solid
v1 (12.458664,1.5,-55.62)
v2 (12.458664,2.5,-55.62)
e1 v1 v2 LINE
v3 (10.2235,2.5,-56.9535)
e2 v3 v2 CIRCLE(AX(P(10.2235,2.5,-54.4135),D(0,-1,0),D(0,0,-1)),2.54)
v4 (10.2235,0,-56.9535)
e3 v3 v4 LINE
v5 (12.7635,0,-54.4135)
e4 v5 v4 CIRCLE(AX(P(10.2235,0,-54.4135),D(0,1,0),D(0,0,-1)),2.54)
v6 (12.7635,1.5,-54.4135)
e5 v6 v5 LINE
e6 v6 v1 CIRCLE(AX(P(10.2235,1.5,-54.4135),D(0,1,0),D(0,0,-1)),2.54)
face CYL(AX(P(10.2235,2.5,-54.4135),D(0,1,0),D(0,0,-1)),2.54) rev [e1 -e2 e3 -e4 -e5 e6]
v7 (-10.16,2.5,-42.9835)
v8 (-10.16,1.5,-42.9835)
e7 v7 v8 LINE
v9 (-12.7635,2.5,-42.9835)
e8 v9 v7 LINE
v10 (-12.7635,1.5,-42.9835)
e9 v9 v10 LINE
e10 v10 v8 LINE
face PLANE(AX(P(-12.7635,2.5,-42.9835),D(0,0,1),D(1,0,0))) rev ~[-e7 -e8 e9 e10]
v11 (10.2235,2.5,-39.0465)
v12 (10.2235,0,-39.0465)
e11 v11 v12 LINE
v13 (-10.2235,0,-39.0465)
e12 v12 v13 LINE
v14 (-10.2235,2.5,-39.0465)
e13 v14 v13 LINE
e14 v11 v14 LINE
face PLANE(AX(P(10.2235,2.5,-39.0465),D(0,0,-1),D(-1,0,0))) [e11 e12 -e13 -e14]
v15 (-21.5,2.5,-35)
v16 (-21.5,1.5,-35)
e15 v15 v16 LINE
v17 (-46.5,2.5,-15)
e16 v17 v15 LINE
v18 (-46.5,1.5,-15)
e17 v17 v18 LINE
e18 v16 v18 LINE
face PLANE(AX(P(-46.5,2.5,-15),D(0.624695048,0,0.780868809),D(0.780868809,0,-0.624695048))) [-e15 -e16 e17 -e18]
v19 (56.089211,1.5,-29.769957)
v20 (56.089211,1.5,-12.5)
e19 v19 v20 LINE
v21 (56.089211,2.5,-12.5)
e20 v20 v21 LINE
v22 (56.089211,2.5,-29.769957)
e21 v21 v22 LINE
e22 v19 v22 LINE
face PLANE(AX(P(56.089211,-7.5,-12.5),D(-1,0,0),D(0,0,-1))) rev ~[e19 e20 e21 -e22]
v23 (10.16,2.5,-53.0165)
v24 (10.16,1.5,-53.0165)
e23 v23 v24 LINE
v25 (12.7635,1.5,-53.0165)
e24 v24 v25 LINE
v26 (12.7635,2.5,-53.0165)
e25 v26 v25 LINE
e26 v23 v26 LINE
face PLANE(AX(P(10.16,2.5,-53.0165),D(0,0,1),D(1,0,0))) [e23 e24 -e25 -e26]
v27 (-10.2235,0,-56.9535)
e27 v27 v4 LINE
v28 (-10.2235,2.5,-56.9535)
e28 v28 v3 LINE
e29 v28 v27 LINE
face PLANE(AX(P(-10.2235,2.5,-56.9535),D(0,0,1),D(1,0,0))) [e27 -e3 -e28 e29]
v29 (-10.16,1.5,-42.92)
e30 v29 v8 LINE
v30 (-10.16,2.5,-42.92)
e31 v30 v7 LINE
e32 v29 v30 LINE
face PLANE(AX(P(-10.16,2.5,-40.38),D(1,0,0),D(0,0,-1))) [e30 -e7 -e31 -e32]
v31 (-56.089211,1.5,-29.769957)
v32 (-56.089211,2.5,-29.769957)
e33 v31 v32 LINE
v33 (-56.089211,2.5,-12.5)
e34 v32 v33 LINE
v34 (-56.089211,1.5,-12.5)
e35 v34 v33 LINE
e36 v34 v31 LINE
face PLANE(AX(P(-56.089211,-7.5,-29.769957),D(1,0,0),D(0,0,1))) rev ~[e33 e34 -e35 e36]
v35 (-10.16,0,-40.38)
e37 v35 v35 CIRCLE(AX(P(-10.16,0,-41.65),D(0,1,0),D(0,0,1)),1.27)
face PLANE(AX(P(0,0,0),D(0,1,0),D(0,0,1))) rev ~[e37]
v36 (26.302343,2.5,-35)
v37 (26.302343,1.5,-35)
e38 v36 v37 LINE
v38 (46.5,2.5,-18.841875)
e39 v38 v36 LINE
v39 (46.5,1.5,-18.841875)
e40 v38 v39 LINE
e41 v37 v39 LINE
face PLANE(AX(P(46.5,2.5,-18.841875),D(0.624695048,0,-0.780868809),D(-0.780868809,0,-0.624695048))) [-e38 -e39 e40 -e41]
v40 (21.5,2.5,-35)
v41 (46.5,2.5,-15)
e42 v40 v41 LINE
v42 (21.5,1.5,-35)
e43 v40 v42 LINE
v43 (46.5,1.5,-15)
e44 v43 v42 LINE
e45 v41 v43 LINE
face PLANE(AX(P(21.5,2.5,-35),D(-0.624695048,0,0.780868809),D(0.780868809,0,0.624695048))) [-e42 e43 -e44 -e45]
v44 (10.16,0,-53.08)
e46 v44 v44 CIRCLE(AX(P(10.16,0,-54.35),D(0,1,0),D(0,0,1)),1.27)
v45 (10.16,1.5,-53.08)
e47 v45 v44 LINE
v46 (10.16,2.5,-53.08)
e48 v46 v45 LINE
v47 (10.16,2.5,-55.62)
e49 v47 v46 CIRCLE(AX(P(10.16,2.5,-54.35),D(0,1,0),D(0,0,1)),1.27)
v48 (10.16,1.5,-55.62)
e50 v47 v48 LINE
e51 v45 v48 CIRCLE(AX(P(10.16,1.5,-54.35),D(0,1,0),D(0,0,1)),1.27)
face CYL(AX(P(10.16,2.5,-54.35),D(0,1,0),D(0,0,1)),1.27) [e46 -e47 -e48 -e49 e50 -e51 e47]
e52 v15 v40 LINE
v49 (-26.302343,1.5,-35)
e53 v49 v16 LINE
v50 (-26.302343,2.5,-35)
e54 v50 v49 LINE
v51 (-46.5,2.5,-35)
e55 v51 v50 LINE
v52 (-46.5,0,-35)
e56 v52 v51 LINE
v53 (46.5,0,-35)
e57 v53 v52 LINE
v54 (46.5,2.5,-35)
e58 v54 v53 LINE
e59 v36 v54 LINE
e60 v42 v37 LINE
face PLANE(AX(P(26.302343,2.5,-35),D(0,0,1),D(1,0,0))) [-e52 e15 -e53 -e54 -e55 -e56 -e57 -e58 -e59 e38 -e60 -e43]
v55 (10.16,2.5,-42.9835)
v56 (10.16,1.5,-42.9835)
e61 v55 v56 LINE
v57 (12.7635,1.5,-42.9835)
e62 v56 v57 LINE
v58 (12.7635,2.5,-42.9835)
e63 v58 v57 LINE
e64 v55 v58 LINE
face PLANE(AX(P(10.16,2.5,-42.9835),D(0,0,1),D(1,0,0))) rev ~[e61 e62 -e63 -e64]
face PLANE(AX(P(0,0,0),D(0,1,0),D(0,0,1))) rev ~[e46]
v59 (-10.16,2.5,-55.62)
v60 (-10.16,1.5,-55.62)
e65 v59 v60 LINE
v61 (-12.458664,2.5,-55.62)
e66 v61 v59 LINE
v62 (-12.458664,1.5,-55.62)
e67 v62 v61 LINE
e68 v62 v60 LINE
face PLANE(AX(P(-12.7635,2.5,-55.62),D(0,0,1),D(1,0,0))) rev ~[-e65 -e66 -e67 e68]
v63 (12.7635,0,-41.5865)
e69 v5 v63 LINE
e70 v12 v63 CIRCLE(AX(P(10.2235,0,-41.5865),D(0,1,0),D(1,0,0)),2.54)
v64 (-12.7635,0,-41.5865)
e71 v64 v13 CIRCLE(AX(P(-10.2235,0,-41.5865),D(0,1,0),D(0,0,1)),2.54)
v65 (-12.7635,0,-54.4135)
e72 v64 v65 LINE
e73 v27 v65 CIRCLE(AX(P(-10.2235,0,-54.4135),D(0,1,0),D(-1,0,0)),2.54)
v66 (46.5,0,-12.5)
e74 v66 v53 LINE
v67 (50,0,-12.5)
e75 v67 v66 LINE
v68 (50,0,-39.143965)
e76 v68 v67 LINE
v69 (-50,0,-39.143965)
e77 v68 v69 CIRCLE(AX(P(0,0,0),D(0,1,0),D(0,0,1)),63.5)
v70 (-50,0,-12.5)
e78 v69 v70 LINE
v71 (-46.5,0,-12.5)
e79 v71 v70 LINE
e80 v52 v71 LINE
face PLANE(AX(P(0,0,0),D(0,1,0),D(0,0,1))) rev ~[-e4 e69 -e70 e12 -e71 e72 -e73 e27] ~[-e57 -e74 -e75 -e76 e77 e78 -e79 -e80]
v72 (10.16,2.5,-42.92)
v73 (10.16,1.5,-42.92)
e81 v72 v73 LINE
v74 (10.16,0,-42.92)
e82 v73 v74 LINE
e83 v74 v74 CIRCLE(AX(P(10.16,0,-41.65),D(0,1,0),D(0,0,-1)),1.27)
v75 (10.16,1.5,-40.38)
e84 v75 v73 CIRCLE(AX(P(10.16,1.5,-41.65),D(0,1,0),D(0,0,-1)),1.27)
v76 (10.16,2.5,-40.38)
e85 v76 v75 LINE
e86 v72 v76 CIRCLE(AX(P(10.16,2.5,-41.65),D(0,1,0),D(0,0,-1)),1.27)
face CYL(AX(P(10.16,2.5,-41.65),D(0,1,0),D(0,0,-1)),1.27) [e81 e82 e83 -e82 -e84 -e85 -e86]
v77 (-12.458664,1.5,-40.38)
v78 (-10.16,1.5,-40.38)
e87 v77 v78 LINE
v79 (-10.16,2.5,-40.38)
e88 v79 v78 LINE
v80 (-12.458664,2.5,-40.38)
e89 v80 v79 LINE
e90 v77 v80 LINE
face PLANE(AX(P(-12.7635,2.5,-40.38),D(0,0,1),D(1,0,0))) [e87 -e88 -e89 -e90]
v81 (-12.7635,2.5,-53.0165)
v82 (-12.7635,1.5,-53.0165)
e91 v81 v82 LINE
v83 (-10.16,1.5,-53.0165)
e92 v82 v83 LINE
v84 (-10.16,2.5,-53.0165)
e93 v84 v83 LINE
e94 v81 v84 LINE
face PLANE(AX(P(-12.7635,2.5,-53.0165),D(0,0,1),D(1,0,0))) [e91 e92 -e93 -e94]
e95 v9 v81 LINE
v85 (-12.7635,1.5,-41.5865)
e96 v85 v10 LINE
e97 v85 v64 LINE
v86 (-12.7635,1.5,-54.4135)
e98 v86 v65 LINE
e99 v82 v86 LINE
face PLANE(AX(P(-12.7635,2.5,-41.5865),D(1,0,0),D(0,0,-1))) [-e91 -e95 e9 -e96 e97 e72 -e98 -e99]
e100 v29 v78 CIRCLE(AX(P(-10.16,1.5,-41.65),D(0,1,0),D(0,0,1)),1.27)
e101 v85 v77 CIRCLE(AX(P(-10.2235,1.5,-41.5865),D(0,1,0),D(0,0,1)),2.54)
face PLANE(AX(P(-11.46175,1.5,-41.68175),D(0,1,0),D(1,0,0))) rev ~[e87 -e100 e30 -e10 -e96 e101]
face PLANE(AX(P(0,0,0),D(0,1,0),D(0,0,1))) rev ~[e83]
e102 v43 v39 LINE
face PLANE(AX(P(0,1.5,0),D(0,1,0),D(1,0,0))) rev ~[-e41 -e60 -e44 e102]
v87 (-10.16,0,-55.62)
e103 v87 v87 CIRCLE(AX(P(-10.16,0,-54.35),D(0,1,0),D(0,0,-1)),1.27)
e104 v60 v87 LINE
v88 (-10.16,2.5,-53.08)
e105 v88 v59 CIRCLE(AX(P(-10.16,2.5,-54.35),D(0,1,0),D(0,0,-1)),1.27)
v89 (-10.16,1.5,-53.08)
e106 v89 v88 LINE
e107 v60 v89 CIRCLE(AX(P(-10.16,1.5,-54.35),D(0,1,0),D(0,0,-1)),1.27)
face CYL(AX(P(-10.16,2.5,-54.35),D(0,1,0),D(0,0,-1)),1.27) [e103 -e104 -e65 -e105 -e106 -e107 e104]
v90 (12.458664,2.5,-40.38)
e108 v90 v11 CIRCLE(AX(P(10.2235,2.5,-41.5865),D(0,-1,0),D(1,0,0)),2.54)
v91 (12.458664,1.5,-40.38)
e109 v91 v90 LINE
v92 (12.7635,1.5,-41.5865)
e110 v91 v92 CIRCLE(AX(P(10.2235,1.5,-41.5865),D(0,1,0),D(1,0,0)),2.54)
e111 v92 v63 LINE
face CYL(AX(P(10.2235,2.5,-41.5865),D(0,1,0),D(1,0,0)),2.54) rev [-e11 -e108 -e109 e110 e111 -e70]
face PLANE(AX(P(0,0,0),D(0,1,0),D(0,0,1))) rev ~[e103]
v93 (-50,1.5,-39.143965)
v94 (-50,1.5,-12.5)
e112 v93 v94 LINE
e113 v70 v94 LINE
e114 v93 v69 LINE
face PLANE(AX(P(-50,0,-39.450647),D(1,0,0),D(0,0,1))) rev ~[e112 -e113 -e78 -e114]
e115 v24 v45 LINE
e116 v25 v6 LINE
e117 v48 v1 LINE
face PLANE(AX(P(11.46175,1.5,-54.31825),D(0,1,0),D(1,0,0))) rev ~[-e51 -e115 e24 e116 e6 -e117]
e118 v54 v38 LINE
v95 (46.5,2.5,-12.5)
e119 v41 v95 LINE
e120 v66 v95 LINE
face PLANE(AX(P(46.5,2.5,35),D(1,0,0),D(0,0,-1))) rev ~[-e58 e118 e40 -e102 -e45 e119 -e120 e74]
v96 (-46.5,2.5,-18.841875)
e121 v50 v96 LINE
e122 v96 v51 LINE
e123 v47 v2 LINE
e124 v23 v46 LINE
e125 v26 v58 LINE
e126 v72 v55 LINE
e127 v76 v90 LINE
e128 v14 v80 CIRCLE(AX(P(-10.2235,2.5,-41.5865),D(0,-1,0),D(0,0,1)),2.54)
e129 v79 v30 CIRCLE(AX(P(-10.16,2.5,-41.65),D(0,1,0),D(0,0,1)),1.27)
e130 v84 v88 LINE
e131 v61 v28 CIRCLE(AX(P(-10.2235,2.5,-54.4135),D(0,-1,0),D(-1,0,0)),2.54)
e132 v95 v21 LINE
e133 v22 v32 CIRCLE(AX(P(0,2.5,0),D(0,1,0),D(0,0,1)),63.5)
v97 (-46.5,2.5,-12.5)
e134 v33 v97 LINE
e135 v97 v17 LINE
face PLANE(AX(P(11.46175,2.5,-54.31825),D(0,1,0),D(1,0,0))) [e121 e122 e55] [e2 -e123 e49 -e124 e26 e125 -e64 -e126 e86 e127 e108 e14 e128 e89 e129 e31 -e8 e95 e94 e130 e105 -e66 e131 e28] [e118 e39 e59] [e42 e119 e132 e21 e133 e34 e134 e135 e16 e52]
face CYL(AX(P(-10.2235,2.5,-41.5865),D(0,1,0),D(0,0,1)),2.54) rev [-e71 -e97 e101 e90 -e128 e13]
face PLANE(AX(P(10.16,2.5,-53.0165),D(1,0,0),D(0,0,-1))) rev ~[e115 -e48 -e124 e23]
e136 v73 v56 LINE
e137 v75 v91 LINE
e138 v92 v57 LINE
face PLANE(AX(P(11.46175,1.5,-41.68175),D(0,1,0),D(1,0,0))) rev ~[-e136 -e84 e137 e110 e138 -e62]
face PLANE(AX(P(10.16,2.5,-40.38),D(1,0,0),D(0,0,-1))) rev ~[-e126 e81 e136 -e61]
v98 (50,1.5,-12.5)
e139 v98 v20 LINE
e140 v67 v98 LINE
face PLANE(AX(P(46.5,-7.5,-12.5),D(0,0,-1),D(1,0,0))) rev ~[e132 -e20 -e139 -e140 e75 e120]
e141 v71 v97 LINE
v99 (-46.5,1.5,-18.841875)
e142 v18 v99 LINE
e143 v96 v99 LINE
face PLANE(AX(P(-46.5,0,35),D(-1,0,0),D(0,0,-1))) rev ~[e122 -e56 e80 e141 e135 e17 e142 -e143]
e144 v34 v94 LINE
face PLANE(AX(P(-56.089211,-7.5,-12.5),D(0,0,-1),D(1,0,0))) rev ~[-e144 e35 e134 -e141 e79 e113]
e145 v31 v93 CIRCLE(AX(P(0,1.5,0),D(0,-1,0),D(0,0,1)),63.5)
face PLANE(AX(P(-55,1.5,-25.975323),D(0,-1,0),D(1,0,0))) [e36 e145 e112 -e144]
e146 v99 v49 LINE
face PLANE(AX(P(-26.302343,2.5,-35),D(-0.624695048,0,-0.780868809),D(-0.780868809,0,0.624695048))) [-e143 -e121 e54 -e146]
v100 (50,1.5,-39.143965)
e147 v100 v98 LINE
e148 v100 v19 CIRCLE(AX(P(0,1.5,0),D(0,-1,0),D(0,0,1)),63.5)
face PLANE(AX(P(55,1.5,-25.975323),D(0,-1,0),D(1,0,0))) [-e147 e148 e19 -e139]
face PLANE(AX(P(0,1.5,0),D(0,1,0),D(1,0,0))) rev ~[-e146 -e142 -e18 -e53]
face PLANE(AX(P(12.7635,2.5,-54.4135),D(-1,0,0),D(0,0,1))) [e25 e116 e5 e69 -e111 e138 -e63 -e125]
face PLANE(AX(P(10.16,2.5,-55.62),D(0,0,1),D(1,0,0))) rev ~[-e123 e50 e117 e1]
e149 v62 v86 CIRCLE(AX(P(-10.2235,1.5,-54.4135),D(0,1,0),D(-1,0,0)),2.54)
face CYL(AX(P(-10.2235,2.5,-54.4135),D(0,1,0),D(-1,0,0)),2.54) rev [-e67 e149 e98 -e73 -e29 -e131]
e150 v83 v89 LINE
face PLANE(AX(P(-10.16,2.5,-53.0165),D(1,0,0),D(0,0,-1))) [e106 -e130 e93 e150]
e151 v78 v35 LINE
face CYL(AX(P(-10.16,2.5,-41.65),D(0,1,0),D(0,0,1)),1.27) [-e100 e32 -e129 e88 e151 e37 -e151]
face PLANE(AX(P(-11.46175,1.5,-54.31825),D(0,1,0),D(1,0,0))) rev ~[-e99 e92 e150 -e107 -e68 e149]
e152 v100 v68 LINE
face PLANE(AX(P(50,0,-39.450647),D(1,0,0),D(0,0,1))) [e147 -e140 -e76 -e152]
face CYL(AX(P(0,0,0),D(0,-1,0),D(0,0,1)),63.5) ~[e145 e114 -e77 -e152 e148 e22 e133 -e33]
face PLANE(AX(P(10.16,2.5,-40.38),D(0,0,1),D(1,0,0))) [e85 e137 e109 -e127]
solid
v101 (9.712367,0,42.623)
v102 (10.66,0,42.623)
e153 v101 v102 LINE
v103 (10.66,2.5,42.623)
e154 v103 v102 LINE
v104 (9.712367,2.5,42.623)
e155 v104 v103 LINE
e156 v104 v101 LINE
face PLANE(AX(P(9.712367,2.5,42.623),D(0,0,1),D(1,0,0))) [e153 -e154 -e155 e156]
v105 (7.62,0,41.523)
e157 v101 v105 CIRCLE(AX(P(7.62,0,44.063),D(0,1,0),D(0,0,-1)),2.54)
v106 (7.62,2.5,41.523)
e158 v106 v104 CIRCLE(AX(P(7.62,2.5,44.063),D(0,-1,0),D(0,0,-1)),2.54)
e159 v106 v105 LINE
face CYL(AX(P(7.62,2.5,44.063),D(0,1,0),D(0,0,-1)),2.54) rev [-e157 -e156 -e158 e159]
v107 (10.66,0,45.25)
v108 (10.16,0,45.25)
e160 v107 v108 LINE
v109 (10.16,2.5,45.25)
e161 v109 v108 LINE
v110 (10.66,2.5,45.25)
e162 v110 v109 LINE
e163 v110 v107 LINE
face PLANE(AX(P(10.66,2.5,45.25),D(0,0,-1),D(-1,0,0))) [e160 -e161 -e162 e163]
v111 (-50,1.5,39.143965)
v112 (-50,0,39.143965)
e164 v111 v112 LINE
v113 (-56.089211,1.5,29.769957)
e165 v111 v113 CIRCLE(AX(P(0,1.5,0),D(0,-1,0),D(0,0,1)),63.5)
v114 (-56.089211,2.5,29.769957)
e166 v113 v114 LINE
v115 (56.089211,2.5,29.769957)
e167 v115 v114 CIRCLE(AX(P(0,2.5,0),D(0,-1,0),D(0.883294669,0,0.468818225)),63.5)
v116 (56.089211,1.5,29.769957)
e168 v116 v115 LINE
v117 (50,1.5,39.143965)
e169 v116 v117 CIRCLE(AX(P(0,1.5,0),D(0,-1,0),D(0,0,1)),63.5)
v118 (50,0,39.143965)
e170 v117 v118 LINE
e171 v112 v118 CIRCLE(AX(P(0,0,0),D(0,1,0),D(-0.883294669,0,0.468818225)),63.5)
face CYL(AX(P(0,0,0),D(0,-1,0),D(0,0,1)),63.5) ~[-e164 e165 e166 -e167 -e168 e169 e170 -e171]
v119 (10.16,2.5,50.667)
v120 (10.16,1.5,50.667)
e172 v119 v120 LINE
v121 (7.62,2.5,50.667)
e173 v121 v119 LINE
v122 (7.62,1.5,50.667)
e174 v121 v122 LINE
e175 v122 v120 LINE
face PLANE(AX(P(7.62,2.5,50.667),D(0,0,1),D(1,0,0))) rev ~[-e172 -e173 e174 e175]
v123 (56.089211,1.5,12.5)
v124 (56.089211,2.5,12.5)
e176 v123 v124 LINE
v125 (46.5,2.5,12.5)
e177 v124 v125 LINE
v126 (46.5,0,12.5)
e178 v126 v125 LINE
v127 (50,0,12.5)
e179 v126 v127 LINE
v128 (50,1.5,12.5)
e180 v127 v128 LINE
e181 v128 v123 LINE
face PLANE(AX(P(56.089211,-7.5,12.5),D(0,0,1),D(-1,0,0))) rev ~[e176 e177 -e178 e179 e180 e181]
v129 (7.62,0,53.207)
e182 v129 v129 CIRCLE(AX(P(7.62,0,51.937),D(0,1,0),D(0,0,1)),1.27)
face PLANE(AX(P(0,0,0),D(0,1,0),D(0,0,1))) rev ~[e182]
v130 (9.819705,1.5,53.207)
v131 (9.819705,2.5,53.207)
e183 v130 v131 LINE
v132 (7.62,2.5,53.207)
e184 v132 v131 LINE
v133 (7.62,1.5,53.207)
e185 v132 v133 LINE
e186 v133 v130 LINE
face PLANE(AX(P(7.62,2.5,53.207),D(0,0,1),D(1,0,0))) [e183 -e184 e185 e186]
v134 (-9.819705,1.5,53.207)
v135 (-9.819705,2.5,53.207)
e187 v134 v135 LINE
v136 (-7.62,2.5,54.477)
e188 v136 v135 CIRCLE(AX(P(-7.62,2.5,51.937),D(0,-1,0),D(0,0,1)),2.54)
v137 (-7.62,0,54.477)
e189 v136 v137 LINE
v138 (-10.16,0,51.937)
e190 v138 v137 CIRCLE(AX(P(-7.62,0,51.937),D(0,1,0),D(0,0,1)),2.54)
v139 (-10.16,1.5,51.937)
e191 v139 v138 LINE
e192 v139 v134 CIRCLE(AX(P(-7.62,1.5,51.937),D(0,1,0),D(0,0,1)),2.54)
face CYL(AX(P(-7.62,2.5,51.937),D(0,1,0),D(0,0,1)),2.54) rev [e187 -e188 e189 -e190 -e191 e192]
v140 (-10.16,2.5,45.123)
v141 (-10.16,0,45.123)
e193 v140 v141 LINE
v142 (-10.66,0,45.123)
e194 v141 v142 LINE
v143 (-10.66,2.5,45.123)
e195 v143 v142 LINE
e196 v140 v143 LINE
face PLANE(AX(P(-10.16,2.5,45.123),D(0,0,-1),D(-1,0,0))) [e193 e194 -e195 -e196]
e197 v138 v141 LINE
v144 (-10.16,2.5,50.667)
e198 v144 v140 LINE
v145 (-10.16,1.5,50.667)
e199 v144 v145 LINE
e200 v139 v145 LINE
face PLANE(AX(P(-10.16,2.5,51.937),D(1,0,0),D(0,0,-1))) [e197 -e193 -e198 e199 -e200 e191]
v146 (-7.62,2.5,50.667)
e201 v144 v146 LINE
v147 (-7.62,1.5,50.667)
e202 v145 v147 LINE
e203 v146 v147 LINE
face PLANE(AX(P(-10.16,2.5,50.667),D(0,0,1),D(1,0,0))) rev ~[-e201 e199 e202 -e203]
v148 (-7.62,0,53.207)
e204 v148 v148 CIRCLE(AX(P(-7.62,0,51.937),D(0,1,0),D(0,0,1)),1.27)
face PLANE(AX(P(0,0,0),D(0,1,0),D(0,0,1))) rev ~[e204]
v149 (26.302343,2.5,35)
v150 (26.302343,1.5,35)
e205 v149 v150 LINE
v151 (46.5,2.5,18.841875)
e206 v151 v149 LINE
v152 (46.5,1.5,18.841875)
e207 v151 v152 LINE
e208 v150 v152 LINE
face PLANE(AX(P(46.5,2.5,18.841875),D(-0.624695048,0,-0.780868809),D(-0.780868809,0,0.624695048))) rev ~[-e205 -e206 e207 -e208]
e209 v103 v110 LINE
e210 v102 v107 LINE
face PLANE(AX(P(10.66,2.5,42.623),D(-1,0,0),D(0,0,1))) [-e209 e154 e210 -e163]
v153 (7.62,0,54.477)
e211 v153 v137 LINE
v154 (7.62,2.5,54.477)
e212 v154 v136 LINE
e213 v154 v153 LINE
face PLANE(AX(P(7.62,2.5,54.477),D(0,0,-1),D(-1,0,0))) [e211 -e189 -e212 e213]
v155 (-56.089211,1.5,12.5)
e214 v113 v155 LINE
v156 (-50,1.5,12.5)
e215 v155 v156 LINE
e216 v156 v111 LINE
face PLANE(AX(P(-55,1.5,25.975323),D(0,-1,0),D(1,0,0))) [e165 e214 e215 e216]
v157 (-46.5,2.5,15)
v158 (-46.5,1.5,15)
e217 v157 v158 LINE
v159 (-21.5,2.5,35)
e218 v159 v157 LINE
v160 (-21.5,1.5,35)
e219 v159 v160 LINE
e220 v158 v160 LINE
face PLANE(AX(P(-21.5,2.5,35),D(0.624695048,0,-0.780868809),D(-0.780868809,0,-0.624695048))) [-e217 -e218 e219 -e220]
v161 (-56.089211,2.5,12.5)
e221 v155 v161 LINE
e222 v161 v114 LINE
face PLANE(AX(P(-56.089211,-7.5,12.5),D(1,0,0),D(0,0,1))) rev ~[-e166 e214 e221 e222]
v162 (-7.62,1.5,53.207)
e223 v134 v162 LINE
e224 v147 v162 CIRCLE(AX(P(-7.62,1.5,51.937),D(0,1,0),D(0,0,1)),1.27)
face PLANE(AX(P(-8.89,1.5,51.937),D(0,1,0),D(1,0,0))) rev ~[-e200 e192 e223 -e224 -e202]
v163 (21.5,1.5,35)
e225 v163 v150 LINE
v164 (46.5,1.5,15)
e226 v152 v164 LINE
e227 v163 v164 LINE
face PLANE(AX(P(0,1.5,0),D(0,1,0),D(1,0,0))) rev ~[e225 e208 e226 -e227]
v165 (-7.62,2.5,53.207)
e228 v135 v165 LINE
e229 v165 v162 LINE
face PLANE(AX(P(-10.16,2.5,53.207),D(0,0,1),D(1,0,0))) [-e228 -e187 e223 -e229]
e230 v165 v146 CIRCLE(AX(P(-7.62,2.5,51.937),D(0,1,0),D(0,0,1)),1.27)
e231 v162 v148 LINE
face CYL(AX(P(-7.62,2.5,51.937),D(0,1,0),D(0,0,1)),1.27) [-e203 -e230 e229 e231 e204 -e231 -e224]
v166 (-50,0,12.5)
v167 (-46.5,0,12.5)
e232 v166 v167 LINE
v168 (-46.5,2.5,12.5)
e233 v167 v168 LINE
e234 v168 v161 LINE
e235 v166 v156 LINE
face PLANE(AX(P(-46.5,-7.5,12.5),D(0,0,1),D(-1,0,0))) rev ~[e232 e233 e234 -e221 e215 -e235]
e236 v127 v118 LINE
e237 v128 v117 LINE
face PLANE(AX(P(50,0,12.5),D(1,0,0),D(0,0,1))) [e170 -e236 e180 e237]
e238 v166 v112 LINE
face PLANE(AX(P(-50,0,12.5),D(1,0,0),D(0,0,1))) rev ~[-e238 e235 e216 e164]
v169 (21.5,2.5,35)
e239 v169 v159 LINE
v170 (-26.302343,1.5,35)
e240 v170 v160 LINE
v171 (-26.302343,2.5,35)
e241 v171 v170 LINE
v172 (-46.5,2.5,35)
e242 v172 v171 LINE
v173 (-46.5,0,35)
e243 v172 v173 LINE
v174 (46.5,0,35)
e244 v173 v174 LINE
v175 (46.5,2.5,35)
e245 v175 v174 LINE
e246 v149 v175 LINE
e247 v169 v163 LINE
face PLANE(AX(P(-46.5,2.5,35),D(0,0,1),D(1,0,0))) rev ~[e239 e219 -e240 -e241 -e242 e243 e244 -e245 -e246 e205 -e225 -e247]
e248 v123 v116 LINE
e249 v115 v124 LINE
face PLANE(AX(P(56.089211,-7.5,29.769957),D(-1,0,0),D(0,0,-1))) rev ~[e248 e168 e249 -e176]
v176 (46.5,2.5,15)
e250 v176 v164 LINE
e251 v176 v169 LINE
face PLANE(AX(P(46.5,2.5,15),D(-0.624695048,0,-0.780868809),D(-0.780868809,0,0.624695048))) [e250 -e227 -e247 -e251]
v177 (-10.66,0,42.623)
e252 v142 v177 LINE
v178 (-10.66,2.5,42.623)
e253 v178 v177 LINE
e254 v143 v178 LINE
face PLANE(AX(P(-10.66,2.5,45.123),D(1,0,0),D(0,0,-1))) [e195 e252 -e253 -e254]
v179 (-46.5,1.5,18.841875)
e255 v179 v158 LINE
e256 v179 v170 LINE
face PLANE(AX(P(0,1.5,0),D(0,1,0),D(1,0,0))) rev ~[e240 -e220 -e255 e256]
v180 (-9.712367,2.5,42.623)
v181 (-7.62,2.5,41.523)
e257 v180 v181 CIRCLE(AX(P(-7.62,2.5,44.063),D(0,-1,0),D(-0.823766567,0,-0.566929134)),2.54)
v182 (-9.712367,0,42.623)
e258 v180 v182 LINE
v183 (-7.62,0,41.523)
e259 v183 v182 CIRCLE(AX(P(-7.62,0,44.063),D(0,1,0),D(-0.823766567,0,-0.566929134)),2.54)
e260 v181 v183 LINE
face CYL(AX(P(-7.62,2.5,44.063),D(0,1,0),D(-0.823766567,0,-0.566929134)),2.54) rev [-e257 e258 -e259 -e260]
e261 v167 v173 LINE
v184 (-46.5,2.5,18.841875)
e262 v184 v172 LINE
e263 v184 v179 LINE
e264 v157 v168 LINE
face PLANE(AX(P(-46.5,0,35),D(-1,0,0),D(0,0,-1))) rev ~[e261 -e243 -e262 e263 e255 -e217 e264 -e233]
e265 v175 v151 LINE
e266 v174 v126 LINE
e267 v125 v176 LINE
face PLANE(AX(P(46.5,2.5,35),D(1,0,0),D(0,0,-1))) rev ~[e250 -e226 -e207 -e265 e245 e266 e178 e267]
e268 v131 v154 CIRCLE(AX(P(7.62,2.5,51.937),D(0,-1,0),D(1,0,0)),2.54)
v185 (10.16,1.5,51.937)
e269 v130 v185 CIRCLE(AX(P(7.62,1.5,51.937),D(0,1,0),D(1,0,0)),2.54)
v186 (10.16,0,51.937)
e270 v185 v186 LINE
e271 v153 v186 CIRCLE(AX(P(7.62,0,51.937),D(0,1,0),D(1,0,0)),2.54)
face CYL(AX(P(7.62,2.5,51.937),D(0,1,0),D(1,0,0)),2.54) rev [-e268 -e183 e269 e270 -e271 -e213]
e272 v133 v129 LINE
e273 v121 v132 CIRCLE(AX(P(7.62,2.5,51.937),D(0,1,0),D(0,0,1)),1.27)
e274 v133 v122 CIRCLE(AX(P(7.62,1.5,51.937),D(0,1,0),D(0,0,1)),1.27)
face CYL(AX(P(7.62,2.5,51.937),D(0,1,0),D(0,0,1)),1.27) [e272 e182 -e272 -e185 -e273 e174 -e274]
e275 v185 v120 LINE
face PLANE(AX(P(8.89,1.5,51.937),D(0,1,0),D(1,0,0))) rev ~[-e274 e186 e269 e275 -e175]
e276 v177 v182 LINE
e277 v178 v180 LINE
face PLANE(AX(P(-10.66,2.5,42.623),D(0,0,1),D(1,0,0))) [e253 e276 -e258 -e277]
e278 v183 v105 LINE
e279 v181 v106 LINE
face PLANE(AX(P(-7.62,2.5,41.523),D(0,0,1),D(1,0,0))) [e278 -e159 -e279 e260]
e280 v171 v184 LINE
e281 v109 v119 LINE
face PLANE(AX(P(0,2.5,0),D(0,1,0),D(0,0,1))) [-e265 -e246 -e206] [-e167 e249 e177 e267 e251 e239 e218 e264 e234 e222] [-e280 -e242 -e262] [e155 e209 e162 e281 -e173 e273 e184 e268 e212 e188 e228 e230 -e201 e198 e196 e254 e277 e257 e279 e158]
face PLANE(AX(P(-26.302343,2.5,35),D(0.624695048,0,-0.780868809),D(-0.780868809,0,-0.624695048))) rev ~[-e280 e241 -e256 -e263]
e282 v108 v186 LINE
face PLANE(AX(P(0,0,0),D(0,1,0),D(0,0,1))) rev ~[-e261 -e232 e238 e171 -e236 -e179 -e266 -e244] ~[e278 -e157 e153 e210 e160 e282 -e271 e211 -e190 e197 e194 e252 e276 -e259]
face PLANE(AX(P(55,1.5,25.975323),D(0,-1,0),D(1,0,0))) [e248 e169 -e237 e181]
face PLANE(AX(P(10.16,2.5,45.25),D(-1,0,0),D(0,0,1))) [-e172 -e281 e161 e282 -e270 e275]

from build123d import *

# Parameters (mm, degrees)
SKETCH1_R           = 63.5
BOSS_EXTRUDE1_DEPTH = 2.5
CUT_EXTRUDE3_DEPTH  = 10
SKETCH2_W           = 93
SKETCH2_H           = 70
CUT_EXTRUDE4_DEPTH  = 1.5
CUT_EXTRUDE5_START  = -10
CUT_EXTRUDE5_DEPTH  = 10
SKETCH6_W           = 10
SKETCH6_H           = 26.950646815
CUT_EXTRUDE6_DEPTH  = 1.5
SKETCH7_R           = 1.27
CUT_EXTRUDE7_DEPTH  = 85.761427807
SKETCH8_W           = 2.6035
SKETCH8_H           = 2.6035
SKETCH8_W_2         = 2.54
SKETCH8_H_2         = 2.54
BOSS_EXTRUDE4_DEPTH = 1


with BuildPart() as part:
    # Sketch1 → Boss-Extrude1 (new body)
    with BuildSketch(Plane(origin=(0, 0, 0), x_dir=(1, 0, 0), z_dir=(0, 1, 0))):
        with Locations(Location((0, 0, 0), (0, 0, 270))):
            Circle(SKETCH1_R)
    extrude(amount=BOSS_EXTRUDE1_DEPTH)

    # Sketch4 → Cut-Extrude3 (cut)
    with BuildSketch(Plane(origin=(0, 2.5, 0), x_dir=(1, 0, 0), z_dir=(0, 1, 0))):
        Polygon((-46.5, 15), (-21.5, 35), (21.5, 35), (46.5, 15), (46.5, -15), (21.5, -35), (-21.5, -35), (-46.5, -15), align=None)
        Polygon((-46.5, 35), (-26.302343178, 35), (-46.5, 18.841874542), align=None)
        Polygon((-46.5, -35), (-26.302343178, -35), (-46.5, -18.841874542), align=None)
        Polygon((46.5, 35), (46.5, 18.841874542), (26.302343178, 35), align=None)
        Polygon((46.5, -18.841874542), (26.302343178, -35), (46.5, -35), align=None)
    extrude(amount=-CUT_EXTRUDE3_DEPTH, mode=Mode.SUBTRACT)

    # Sketch2 → Cut-Extrude4 (cut)
    with BuildSketch(Plane(origin=(0, 0, 0), x_dir=(1, 0, 0), z_dir=(0, 1, 0))):
        Rectangle(SKETCH2_W, SKETCH2_H)
    extrude(amount=CUT_EXTRUDE4_DEPTH, mode=Mode.SUBTRACT)

    # Sketch5 → Cut-Extrude5 (cut)
    with BuildSketch(Plane(origin=(0, 2.5, 0), x_dir=(1, 0, 0), z_dir=(0, 1, 0)).offset(CUT_EXTRUDE5_START)):
        with BuildLine():
            Line((-56.089211476, 12.5), (-46.5, 12.5))
            Line((-46.5, 12.5), (-46.5, -12.5))
            Line((-46.5, -12.5), (-56.089211476, -12.5))
            Line((-56.089211476, -12.5), (-56.089211476, -29.769957273))
            ThreePointArc((-56.089211476, -29.769957273), (-63.5, 0), (-56.089211476, 29.769957273))
            Line((-56.089211476, 29.769957273), (-56.089211476, 12.5))
        make_face()
        with BuildLine():
            Line((56.089211476, 12.5), (56.089211476, 29.769957273))
            ThreePointArc((56.089211476, 29.769957273), (63.5, 0), (56.089211476, -29.769957273))
            Line((56.089211476, -29.769957273), (56.089211476, -12.5))
            Line((56.089211476, -12.5), (46.5, -12.5))
            Line((46.5, -12.5), (46.5, 12.5))
            Line((46.5, 12.5), (56.089211476, 12.5))
        make_face()
    extrude(amount=CUT_EXTRUDE5_DEPTH, mode=Mode.SUBTRACT)


with BuildPart() as cut_extrude5_piece_1:
    # of the separate pieces the step leaves, piece 1, a body of its own (cut_extrude5_pieces)
    add(part.part.solids().sort_by_distance((56.089211476, 0, -29.769957273))[0])


with BuildPart() as cut_extrude5_piece_2:
    # of the separate pieces the step leaves, piece 2, a body of its own (cut_extrude5_pieces)
    add(part.part.solids().sort_by_distance((-56.089211476, 0, 29.769957273))[0])


with BuildPart() as cut_extrude6_tool:
    # Sketch6 → Cut-Extrude6 (new body)
    with BuildSketch(Plane.XZ):
        with Locations((55, -25.975323407)):
            Rectangle(SKETCH6_W, SKETCH6_H)
        with Locations((-55, -25.975323407)):
            Rectangle(SKETCH6_W, SKETCH6_H)
        with Locations((-55, 25.975323407)):
            Rectangle(SKETCH6_W, SKETCH6_H)
        with Locations((55, 25.975323407)):
            Rectangle(SKETCH6_W, SKETCH6_H)
    extrude(amount=-CUT_EXTRUDE6_DEPTH)


with BuildPart() as cut_extrude5_piece_1_1:
    add(cut_extrude5_piece_1.part)

    # Cut-Extrude6: cut by cut_extrude6_tool
    add(cut_extrude6_tool.part, mode=Mode.SUBTRACT)


with BuildPart() as cut_extrude5_piece_2_1:
    add(cut_extrude5_piece_2.part)

    # Cut-Extrude6: cut by cut_extrude6_tool
    add(cut_extrude6_tool.part, mode=Mode.SUBTRACT)


with BuildPart() as cut_extrude7_tool:
    # Sketch7 → Cut-Extrude7 (new, through all)
    # profile 1 of 2: a face of its own
    with BuildSketch(Plane(origin=(0, 2.5, 0), x_dir=(1, 0, 0), z_dir=(0, 1, 0))):
        with BuildLine():
            Line((-10.2235, 56.9535), (10.2235, 56.9535))
            ThreePointArc((10.2235, 56.9535), (12.019551224, 56.209551224), (12.7635, 54.4135))
            Line((12.7635, 54.4135), (12.7635, 41.5865))
            ThreePointArc((12.7635, 41.5865), (12.019551224, 39.790448776), (10.2235, 39.0465))
            Line((10.2235, 39.0465), (-10.2235, 39.0465))
            ThreePointArc((-10.2235, 39.0465), (-12.019551224, 39.790448776), (-12.7635, 41.5865))
            Line((-12.7635, 41.5865), (-12.7635, 54.4135))
            ThreePointArc((-12.7635, 54.4135), (-12.019551224, 56.209551224), (-10.2235, 56.9535))
        make_face()
        with Locations(Location((10.16, 54.35, 0), (0, 0, 270))):
            Circle(SKETCH7_R, mode=Mode.SUBTRACT)
        with Locations(Location((-10.16, 54.35, 0), (0, 0, 90))):
            Circle(SKETCH7_R, mode=Mode.SUBTRACT)
        with Locations(Location((10.16, 41.65, 0), (0, 0, 90))):
            Circle(SKETCH7_R, mode=Mode.SUBTRACT)
        with Locations(Location((-10.16, 41.65, 0), (0, 0, 270))):
            Circle(SKETCH7_R, mode=Mode.SUBTRACT)
    # profile 2 of 2: a face of its own
    with BuildSketch(Plane(origin=(0, 2.5, 0), x_dir=(1, 0, 0), z_dir=(0, 1, 0))):
        with BuildLine():
            Line((-7.62, -41.523), (7.62, -41.523))
            ThreePointArc((7.62, -41.523), (8.801947545, -41.814756241), (9.712367081, -42.623))
            Line((9.712367081, -42.623), (10.66, -42.623))
            Line((10.66, -42.623), (10.66, -45.25))
            Line((10.66, -45.25), (10.16, -45.25))
            Line((10.16, -45.25), (10.16, -51.937))
            ThreePointArc((10.16, -51.937), (9.416051224, -53.733051224), (7.62, -54.477))
            Line((7.62, -54.477), (-7.62, -54.477))
            ThreePointArc((-7.62, -54.477), (-9.416051224, -53.733051224), (-10.16, -51.937))
            Line((-10.16, -51.937), (-10.16, -45.123))
            Line((-10.16, -45.123), (-10.66, -45.123))
            Line((-10.66, -45.123), (-10.66, -42.623))
            Line((-10.66, -42.623), (-9.712367081, -42.623))
            ThreePointArc((-9.712367081, -42.623), (-8.801947545, -41.814756241), (-7.62, -41.523))
        make_face()
        with Locations(Location((-7.62, -51.937, 0), (0, 0, 270))):
            Circle(SKETCH7_R, mode=Mode.SUBTRACT)
        with Locations(Location((7.62, -51.937, 0), (0, 0, 270))):
            Circle(SKETCH7_R, mode=Mode.SUBTRACT)
    extrude(amount=-CUT_EXTRUDE7_DEPTH)


with BuildPart() as cut_extrude5_piece_1_2:
    add(cut_extrude5_piece_1_1.part)

    # Cut-Extrude7: cut by cut_extrude7_tool
    add(cut_extrude7_tool.part, mode=Mode.SUBTRACT)


with BuildPart() as cut_extrude5_piece_2_2:
    add(cut_extrude5_piece_2_1.part)

    # Cut-Extrude7: cut by cut_extrude7_tool
    add(cut_extrude7_tool.part, mode=Mode.SUBTRACT)


with BuildPart() as cut_extrude7_piece_1:
    # of the separate pieces the step leaves, piece 1, a body of its own (cut_extrude7_pieces)
    add(cut_extrude5_piece_1_2.part.solids().sort_by_distance((50, 0, -39.143965052))[0])



with BuildPart() as cut_extrude7_piece_2:
    # of the separate pieces the step leaves, piece 2, a body of its own (cut_extrude7_pieces)
    add(cut_extrude5_piece_1_2.part.solids().sort_by_distance((-10.16, 0, -40.38))[0])


with BuildPart() as cut_extrude7_piece_3:
    # of the separate pieces the step leaves, piece 3, a body of its own (cut_extrude7_pieces)
    add(cut_extrude5_piece_1_2.part.solids().sort_by_distance((-10.16, 0, -55.62))[0])


with BuildPart() as cut_extrude7_piece_4:
    # of the separate pieces the step leaves, piece 4, a body of its own (cut_extrude7_pieces)
    add(cut_extrude5_piece_1_2.part.solids().sort_by_distance((10.16, 0, -42.92))[0])


with BuildPart() as cut_extrude7_piece_5:
    # of the separate pieces the step leaves, piece 5, a body of its own (cut_extrude7_pieces)
    add(cut_extrude5_piece_1_2.part.solids().sort_by_distance((10.16, 0, -53.08))[0])


with BuildPart() as cut_extrude7_piece_1_of_cut_extrude5_pie:
    # of the separate pieces the step leaves, piece 1, a body of its own (cut_extrude7_pieces_of_cut_extrude5_piec)
    add(cut_extrude5_piece_2_2.part.solids().sort_by_distance((-50, 0, 39.143965052))[0])


with BuildPart() as cut_extrude7_piece_2_of_cut_extrude5_pie:
    # of the separate pieces the step leaves, piece 2, a body of its own (cut_extrude7_pieces_of_cut_extrude5_piec)
    add(cut_extrude5_piece_2_2.part.solids().sort_by_distance((-7.62, 0, 53.207))[0])


with BuildPart() as cut_extrude7_piece_3_of_cut_extrude5_pie:
    # of the separate pieces the step leaves, piece 3, a body of its own (cut_extrude7_pieces_of_cut_extrude5_piec)
    add(cut_extrude5_piece_2_2.part.solids().sort_by_distance((7.62, 0, 53.207))[0])


with BuildPart() as cut_extrude7_piece_1_1:
    add(cut_extrude7_piece_1.part)

    add(cut_extrude7_piece_2.part)  # Boss-Extrude4 merges Cut-Extrude7 piece 2

    add(cut_extrude7_piece_3.part)  # Boss-Extrude4 merges Cut-Extrude7 piece 3

    add(cut_extrude7_piece_4.part)  # Boss-Extrude4 merges Cut-Extrude7 piece 4

    add(cut_extrude7_piece_5.part)  # Boss-Extrude4 merges Cut-Extrude7 piece 5

    add(cut_extrude7_piece_1_of_cut_extrude5_pie.part)  # Boss-Extrude4 merges Cut-Extrude7 piece 1 of Cut-Extrude5 pie

    add(cut_extrude7_piece_2_of_cut_extrude5_pie.part)  # Boss-Extrude4 merges Cut-Extrude7 piece 2 of Cut-Extrude5 pie

    add(cut_extrude7_piece_3_of_cut_extrude5_pie.part)  # Boss-Extrude4 merges Cut-Extrude7 piece 3 of Cut-Extrude5 pie
    # Sketch8 → Boss-Extrude4 (add)
    with BuildSketch(Plane(origin=(0, 2.5, 0), x_dir=(1, 0, 0), z_dir=(0, 1, 0))):
        with Locations((11.46175, 54.31825)):
            Rectangle(SKETCH8_W, SKETCH8_H)
        with Locations((-11.46175, 54.31825)):
            Rectangle(SKETCH8_W, SKETCH8_H)
        with Locations((-11.46175, 41.68175)):
            Rectangle(SKETCH8_W, SKETCH8_H)
        with Locations((11.46175, 41.68175)):
            Rectangle(SKETCH8_W, SKETCH8_H)
        with Locations((-8.89, -51.937)):
            Rectangle(SKETCH8_W_2, SKETCH8_H_2)
        with Locations((8.89, -51.937)):
            Rectangle(SKETCH8_W_2, SKETCH8_H_2)
    extrude(amount=-BOSS_EXTRUDE4_DEPTH)


solid = cut_extrude7_piece_1_1.part
